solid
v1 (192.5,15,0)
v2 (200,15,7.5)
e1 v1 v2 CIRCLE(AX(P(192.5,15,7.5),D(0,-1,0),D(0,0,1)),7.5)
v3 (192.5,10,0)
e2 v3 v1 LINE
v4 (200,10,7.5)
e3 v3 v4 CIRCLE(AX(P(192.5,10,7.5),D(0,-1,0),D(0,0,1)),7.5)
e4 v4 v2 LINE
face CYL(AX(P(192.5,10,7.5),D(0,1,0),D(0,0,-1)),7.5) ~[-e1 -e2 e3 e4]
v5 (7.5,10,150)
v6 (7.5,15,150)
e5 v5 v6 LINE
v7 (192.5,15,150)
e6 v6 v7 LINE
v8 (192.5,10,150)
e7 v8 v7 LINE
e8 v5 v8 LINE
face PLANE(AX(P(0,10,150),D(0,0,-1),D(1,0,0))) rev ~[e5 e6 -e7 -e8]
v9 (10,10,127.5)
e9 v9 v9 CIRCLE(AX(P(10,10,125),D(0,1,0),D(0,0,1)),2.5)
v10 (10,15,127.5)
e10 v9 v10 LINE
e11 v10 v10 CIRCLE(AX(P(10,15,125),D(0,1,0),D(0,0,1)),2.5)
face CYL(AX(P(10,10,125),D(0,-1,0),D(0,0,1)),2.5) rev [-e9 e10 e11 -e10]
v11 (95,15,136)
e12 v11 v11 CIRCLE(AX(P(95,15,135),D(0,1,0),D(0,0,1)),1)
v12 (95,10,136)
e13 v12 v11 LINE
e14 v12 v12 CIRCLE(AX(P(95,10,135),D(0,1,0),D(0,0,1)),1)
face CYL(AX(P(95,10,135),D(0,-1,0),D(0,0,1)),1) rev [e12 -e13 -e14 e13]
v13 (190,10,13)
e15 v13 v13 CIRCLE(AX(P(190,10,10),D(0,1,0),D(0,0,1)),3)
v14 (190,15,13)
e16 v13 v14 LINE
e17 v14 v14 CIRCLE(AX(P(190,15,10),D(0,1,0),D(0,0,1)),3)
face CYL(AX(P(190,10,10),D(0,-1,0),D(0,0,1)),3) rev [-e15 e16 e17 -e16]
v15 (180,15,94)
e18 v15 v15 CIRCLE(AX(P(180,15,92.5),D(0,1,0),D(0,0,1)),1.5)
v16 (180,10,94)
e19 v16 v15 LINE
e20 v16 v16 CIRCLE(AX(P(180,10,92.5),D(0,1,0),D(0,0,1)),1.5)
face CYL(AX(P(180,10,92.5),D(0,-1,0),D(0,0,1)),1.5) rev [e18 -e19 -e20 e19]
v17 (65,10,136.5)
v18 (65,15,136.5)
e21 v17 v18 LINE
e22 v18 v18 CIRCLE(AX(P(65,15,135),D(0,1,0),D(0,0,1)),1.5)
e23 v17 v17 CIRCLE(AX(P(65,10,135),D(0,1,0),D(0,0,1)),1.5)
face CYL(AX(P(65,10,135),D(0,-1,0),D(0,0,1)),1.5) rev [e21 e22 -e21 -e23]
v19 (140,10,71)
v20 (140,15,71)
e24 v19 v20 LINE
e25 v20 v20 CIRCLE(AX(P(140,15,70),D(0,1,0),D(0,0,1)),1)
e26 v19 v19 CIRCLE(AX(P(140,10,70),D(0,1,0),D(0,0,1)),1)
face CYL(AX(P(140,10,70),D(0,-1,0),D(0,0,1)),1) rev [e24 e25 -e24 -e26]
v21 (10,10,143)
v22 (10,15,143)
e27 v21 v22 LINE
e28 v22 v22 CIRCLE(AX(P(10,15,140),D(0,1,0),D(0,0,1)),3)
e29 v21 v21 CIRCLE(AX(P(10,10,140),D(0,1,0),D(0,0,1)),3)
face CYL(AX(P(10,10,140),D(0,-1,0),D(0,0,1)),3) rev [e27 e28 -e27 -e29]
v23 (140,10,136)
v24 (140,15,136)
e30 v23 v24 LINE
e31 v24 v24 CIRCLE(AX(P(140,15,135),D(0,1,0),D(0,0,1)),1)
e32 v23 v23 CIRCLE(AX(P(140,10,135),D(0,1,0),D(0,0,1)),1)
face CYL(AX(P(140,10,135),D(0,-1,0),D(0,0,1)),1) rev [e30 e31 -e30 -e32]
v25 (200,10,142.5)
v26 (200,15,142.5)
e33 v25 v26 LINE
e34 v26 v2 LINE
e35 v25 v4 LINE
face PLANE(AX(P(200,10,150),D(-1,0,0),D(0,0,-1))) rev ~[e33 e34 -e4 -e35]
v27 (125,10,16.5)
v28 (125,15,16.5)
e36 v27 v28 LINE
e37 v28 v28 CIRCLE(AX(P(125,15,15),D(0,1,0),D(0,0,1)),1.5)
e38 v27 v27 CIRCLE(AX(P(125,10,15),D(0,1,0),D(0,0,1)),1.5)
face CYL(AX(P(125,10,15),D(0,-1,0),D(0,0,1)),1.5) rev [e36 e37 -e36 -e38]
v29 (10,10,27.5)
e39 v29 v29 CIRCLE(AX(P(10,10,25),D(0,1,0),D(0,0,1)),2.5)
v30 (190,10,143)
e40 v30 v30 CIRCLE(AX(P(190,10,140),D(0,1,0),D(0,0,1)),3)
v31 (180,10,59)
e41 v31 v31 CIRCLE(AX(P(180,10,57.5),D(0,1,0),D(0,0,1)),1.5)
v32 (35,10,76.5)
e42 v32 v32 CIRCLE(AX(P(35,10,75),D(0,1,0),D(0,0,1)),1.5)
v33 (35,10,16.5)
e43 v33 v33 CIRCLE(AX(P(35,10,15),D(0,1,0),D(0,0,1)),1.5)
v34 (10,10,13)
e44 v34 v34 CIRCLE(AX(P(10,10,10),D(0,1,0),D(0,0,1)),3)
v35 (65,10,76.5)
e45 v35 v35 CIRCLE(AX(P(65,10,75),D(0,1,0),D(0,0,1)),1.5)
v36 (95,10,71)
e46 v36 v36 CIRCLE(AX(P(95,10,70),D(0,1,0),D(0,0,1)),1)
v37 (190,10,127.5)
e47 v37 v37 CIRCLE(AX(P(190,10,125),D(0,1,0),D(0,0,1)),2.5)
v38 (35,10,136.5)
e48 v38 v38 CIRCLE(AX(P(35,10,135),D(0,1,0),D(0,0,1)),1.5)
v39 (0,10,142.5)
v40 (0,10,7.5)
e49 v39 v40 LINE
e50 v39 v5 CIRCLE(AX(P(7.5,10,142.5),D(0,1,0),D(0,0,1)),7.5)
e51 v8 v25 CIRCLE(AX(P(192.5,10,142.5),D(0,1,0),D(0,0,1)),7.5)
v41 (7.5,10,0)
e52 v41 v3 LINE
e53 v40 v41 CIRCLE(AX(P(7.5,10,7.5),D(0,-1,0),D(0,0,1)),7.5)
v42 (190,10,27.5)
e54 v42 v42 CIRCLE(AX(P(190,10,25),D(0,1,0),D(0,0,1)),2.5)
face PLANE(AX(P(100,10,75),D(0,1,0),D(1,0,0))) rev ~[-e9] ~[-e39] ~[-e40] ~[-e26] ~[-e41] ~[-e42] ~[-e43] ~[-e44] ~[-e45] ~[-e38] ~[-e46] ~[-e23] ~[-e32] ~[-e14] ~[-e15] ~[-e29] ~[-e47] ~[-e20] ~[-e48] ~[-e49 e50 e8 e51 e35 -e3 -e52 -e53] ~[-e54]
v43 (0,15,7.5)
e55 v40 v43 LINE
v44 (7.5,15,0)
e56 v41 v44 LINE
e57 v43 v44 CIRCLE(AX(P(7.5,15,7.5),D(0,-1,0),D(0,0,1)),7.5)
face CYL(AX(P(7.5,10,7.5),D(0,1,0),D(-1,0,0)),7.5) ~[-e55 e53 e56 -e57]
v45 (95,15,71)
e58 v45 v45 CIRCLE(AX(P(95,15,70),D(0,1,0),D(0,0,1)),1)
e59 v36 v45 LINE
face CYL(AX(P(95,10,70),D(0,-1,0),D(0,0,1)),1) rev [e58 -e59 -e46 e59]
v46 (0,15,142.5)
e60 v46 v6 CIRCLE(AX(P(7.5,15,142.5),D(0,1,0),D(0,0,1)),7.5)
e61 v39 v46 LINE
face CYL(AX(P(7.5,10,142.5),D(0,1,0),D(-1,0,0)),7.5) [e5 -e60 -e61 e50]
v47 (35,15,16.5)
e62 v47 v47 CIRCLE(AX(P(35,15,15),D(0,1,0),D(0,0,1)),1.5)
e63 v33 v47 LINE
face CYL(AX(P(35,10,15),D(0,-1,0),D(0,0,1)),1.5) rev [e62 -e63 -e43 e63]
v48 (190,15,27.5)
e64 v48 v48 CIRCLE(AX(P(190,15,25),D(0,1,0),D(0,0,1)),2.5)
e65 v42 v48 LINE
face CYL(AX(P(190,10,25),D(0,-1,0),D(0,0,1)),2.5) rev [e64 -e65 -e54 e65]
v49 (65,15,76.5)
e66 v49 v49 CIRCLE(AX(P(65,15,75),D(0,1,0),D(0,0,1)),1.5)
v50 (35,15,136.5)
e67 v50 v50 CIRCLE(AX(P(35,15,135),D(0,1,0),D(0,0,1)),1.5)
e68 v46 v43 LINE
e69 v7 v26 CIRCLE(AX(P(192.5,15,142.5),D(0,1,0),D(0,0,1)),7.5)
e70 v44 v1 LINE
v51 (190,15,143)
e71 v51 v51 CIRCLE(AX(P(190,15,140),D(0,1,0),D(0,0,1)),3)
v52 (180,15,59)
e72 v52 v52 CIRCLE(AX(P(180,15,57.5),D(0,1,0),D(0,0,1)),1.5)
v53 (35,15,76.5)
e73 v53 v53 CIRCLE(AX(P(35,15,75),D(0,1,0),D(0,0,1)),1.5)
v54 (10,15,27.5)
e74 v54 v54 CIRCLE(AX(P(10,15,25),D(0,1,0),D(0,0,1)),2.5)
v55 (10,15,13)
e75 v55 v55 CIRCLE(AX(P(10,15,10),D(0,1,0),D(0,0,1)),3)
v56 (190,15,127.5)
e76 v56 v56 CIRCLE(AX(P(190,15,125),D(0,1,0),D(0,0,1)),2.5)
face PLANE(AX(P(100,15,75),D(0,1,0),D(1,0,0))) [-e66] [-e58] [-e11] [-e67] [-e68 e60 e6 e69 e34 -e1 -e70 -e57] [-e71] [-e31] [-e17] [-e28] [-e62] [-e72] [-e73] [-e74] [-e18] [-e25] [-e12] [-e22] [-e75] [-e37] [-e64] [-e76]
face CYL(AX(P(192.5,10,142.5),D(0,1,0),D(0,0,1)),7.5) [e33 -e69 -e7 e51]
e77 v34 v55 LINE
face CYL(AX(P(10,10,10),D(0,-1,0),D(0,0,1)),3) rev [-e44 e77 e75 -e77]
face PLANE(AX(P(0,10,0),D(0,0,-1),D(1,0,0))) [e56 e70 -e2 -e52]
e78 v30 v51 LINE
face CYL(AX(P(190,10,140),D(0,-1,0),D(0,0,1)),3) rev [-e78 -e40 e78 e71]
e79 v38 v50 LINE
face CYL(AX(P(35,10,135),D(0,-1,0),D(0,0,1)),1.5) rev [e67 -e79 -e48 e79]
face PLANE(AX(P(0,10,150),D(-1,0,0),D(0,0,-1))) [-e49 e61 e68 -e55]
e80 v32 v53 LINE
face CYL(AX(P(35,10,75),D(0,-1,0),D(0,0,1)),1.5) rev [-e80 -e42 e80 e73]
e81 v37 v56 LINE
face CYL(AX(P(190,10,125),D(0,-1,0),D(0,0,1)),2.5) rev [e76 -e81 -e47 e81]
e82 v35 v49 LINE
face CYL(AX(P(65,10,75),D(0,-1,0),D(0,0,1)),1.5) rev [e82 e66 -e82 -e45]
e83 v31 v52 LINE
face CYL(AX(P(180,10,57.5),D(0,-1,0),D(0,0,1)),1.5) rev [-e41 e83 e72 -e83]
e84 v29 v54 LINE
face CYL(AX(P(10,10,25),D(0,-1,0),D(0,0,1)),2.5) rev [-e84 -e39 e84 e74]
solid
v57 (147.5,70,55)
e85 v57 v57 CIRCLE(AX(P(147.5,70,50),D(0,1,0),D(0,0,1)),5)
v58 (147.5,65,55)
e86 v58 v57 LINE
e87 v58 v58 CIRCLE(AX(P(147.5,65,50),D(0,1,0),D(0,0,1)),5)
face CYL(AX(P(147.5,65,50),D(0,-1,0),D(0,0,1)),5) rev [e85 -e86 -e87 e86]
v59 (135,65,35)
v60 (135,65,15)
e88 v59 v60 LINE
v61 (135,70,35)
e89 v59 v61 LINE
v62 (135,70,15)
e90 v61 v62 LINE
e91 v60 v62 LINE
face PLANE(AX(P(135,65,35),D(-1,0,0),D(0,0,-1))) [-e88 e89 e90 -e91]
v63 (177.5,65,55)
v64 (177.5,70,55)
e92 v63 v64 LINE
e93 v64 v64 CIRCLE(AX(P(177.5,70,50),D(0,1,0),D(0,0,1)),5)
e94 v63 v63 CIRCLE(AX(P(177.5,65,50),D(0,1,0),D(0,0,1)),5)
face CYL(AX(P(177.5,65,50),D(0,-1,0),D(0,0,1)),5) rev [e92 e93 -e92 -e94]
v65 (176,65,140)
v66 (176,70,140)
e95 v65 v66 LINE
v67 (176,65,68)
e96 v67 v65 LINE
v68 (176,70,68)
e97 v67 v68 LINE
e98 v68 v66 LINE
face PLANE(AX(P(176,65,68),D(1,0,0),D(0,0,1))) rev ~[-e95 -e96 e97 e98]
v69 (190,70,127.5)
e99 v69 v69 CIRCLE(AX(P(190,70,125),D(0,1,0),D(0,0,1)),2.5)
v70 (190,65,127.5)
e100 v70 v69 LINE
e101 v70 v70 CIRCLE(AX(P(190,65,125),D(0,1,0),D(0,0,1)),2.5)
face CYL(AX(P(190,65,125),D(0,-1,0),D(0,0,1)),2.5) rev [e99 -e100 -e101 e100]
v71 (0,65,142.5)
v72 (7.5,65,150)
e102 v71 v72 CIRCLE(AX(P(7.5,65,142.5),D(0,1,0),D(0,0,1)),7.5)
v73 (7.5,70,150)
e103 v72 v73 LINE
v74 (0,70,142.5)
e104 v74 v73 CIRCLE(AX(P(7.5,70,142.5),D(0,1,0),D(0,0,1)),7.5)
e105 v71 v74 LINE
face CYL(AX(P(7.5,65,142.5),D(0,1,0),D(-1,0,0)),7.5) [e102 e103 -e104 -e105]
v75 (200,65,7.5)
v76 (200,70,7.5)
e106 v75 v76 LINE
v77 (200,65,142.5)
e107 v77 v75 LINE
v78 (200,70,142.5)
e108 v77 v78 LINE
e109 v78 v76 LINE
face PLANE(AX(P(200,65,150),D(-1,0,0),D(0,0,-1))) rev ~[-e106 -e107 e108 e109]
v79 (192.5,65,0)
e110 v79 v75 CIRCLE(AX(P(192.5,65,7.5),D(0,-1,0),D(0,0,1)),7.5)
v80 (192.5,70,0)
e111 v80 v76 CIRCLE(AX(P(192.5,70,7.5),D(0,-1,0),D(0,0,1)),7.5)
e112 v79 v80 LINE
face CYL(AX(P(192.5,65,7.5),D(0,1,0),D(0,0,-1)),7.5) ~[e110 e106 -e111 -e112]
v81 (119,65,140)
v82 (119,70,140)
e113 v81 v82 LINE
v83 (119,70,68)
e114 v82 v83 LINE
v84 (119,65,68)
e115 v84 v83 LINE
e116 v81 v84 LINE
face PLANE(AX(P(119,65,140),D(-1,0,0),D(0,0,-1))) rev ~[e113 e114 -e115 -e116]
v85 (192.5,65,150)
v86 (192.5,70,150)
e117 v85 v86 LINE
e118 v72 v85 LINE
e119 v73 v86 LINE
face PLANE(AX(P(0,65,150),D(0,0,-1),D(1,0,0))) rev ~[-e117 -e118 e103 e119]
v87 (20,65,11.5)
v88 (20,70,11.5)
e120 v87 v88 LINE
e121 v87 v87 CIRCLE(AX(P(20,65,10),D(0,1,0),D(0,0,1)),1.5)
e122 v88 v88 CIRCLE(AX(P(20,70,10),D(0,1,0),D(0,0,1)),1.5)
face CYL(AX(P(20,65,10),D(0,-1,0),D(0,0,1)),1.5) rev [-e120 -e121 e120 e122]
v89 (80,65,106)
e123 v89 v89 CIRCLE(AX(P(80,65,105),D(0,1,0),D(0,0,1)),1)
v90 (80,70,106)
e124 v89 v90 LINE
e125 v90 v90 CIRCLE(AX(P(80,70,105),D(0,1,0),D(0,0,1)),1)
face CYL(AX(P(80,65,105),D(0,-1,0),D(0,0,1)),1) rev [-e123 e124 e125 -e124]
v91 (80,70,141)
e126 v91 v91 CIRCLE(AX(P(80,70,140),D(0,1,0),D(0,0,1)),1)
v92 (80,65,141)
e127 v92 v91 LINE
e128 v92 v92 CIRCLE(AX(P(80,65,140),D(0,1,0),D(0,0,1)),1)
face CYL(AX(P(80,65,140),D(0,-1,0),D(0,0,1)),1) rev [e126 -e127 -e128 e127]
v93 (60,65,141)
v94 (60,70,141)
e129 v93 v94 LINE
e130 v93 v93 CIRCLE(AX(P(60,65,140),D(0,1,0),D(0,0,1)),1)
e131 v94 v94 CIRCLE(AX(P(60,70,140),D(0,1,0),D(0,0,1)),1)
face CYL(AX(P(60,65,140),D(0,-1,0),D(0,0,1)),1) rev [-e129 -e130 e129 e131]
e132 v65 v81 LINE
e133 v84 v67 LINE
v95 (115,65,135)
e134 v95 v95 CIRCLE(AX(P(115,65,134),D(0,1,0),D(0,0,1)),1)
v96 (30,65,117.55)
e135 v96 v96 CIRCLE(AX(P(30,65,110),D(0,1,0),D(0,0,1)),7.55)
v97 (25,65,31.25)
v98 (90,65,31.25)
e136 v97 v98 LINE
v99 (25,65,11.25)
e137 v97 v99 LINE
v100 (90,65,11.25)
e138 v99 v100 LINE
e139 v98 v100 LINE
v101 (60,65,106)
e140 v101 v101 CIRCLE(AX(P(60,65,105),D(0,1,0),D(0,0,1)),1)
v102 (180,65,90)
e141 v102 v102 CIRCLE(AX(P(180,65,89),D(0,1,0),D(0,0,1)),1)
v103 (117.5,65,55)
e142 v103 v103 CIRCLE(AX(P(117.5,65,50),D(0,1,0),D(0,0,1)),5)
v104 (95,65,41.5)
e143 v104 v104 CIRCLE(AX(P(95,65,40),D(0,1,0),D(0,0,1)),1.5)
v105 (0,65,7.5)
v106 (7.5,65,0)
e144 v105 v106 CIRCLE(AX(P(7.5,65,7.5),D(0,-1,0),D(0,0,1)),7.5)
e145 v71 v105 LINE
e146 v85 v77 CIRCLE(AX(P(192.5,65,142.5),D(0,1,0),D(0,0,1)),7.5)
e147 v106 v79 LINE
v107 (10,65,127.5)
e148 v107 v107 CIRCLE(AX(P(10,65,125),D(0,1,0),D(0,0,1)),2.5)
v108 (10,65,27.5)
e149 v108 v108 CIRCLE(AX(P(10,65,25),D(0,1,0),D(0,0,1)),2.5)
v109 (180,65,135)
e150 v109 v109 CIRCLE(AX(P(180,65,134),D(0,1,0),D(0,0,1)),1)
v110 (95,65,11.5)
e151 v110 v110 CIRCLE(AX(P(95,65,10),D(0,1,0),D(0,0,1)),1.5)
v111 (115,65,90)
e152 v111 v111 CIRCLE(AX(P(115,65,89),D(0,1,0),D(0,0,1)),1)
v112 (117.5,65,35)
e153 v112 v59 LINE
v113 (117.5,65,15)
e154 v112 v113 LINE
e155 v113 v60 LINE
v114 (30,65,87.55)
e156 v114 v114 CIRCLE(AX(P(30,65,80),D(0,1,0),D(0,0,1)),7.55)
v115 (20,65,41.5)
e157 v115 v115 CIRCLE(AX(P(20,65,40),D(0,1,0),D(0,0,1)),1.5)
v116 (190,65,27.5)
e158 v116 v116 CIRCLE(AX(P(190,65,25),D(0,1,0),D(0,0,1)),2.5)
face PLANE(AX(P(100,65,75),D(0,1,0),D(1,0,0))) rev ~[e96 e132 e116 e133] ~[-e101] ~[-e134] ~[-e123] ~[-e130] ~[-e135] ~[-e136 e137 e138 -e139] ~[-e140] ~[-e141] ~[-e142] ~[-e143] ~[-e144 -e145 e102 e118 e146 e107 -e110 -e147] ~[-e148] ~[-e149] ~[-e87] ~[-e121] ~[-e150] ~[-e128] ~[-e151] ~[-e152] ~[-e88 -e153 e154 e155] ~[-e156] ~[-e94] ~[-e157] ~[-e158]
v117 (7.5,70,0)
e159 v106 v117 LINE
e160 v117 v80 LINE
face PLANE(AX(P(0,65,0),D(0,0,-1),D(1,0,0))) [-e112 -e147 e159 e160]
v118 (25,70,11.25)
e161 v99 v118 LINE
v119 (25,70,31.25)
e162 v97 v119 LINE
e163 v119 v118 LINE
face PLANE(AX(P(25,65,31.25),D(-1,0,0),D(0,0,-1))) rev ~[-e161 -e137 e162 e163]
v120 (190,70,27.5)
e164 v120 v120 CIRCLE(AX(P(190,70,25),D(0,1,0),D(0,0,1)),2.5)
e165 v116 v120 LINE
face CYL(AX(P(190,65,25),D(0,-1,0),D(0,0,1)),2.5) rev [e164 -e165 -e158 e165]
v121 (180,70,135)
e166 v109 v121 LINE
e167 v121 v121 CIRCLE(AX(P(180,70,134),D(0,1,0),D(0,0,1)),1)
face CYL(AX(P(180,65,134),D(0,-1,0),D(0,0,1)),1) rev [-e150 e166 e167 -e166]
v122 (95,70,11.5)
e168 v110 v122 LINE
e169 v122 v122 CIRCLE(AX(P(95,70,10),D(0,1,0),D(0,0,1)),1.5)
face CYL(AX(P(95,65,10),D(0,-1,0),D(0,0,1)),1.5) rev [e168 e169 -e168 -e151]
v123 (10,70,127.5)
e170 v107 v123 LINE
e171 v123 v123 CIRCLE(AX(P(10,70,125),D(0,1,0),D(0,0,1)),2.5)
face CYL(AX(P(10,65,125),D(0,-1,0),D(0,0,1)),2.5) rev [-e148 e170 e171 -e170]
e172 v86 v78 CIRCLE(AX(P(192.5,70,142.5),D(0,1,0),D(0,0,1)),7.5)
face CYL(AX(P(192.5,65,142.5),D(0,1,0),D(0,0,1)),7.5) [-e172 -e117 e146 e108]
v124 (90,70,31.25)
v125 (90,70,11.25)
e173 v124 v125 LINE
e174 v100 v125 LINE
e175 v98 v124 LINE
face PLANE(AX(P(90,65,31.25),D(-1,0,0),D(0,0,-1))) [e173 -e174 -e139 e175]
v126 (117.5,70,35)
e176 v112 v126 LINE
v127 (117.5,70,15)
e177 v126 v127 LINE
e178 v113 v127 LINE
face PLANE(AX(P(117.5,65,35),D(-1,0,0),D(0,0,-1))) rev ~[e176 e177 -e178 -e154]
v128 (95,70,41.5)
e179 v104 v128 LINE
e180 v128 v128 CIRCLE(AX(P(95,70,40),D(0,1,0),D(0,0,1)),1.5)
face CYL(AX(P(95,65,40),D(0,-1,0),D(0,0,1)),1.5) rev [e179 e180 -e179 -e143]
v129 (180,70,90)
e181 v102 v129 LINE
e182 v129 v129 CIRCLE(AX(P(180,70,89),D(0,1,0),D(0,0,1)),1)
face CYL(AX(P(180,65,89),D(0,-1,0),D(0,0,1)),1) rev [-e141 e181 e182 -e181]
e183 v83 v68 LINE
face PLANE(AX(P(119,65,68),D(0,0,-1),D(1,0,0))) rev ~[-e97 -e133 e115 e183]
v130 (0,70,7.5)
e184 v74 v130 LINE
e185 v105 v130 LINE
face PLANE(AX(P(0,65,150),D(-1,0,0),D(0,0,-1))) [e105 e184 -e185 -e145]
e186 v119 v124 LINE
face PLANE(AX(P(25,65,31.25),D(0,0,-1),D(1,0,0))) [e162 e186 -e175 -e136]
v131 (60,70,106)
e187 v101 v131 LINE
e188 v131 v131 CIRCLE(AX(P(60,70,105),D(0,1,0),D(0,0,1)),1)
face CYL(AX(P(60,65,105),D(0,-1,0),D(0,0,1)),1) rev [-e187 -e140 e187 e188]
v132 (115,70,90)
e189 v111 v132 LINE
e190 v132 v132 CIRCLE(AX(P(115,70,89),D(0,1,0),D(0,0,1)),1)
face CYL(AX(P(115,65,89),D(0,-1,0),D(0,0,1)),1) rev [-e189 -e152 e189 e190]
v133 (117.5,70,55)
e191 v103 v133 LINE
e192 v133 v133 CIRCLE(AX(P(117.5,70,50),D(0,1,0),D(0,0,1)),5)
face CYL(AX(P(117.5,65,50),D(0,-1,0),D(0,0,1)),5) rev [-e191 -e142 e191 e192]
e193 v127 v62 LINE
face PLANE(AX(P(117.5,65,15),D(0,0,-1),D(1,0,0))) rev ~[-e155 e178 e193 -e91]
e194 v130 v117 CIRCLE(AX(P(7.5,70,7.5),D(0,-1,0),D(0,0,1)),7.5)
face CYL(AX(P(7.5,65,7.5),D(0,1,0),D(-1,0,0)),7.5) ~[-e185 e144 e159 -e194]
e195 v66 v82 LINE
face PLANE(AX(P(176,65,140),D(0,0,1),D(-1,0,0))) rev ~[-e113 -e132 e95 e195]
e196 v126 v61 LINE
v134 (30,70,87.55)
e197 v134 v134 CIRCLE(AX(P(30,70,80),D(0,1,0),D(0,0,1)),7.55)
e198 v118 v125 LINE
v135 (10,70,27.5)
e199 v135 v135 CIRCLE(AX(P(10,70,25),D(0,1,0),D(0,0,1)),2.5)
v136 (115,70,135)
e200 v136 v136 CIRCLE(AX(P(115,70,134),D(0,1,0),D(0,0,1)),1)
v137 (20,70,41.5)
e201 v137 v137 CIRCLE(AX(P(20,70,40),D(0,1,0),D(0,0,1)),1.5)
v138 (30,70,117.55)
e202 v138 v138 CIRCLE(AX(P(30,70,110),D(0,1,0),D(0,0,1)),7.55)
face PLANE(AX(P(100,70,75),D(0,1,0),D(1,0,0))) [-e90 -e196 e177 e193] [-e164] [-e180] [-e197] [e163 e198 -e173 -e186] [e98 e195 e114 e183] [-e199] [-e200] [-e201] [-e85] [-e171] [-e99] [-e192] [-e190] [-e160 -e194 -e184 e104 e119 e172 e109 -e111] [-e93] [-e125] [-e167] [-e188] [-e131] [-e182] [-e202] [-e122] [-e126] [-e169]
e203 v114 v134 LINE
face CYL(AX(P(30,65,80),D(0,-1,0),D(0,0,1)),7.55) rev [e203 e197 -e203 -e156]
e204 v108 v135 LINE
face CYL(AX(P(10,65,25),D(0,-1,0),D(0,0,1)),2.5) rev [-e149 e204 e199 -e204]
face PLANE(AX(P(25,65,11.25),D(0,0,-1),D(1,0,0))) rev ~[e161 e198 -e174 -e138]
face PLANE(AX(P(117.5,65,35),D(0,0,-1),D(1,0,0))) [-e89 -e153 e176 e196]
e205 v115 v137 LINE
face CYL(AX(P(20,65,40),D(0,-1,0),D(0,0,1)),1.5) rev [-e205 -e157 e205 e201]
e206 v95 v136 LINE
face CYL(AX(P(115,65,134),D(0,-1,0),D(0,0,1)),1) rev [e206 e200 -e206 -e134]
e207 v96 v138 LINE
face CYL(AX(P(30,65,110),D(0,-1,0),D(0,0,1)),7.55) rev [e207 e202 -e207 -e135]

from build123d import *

# Parameters (mm, degrees)
BOSS_EXTRUDE1_START = 10
SKETCH2_W           = 200
SKETCH2_H           = 150
SKETCH2_R           = 1.5
SKETCH2_R_2         = 1
SKETCH2_R_3         = 2.5
SKETCH2_R_4         = 3
BOSS_EXTRUDE1_DEPTH = 5
BOSS_EXTRUDE2_START = 65
SKETCH4_W           = 200
SKETCH4_H           = 150
SKETCH4_R           = 2.5
SKETCH4_R_2         = 1
SKETCH4_R_3         = 7.55
SKETCH4_R_4         = 1.5
SKETCH4_W_2         = 65
SKETCH4_H_2         = 20
SKETCH4_R_5         = 5
SKETCH4_W_3         = 17.5
BOSS_EXTRUDE2_DEPTH = 5
FILLET1_R           = 7.5
FILLET2_R           = 7.5


with BuildPart() as part:
    # Sketch2 → Boss-Extrude1 (new body)
    with BuildSketch(Plane(origin=(0, 0, 0), x_dir=(1, 0, 0), z_dir=(0, 1, 0)).offset(BOSS_EXTRUDE1_START)):
        with Locations((100, -75)):
            Rectangle(SKETCH2_W, SKETCH2_H)
        with Locations(Location((35, -75, 0), (0, 0, 270))):
            Circle(SKETCH2_R, mode=Mode.SUBTRACT)
        with Locations(Location((65, -75, 0), (0, 0, 270))):
            Circle(SKETCH2_R, mode=Mode.SUBTRACT)
        with Locations(Location((65, -135, 0), (0, 0, 270))):
            Circle(SKETCH2_R, mode=Mode.SUBTRACT)
        with Locations(Location((35, -135, 0), (0, 0, 270))):
            Circle(SKETCH2_R, mode=Mode.SUBTRACT)
        with Locations(Location((35, -15, 0), (0, 0, 270))):
            Circle(SKETCH2_R, mode=Mode.SUBTRACT)
        with Locations(Location((125, -15, 0), (0, 0, 270))):
            Circle(SKETCH2_R, mode=Mode.SUBTRACT)
        with Locations(Location((180, -57.5, 0), (0, 0, 270))):
            Circle(SKETCH2_R, mode=Mode.SUBTRACT)
        with Locations(Location((180, -92.5, 0), (0, 0, 270))):
            Circle(SKETCH2_R, mode=Mode.SUBTRACT)
        with Locations(Location((95, -70, 0), (0, 0, 270))):
            Circle(SKETCH2_R_2, mode=Mode.SUBTRACT)
        with Locations(Location((140, -70, 0), (0, 0, 270))):
            Circle(SKETCH2_R_2, mode=Mode.SUBTRACT)
        with Locations(Location((140, -135, 0), (0, 0, 270))):
            Circle(SKETCH2_R_2, mode=Mode.SUBTRACT)
        with Locations(Location((95, -135, 0), (0, 0, 270))):
            Circle(SKETCH2_R_2, mode=Mode.SUBTRACT)
        with Locations(Location((190, -25, 0), (0, 0, 270))):
            Circle(SKETCH2_R_3, mode=Mode.SUBTRACT)
        with Locations(Location((190, -10, 0), (0, 0, 270))):
            Circle(SKETCH2_R_4, mode=Mode.SUBTRACT)
        with Locations(Location((190, -125, 0), (0, 0, 270))):
            Circle(SKETCH2_R_3, mode=Mode.SUBTRACT)
        with Locations(Location((190, -140, 0), (0, 0, 270))):
            Circle(SKETCH2_R_4, mode=Mode.SUBTRACT)
        with Locations(Location((10, -140, 0), (0, 0, 270))):
            Circle(SKETCH2_R_4, mode=Mode.SUBTRACT)
        with Locations(Location((10, -125, 0), (0, 0, 270))):
            Circle(SKETCH2_R_3, mode=Mode.SUBTRACT)
        with Locations(Location((10, -25, 0), (0, 0, 270))):
            Circle(SKETCH2_R_3, mode=Mode.SUBTRACT)
        with Locations(Location((10, -10, 0), (0, 0, 270))):
            Circle(SKETCH2_R_4, mode=Mode.SUBTRACT)
    extrude(amount=BOSS_EXTRUDE1_DEPTH)

    # Fillet1
    fillet1_edges = [part.edges().sort_by_distance(p)[0] for p in [
        (0, 12.5, 0),
        (200, 12.5, 0),
        (200, 12.5, 150),
        (0, 12.5, 150),
    ]]
    fillet(fillet1_edges, radius=FILLET1_R)


with BuildPart() as body_2:
    # Sketch4 → Boss-Extrude2 (new body)
    with BuildSketch(Plane(origin=(0, 0, 0), x_dir=(1, 0, 0), z_dir=(0, 1, 0)).offset(BOSS_EXTRUDE2_START)):
        with Locations((100, -75)):
            Rectangle(SKETCH4_W, SKETCH4_H)
        with Locations(Location((10, -125, 0), (0, 0, 270))):
            Circle(SKETCH4_R, mode=Mode.SUBTRACT)
        with Locations(Location((60, -140, 0), (0, 0, 270))):
            Circle(SKETCH4_R_2, mode=Mode.SUBTRACT)
        with Locations(Location((80, -140, 0), (0, 0, 270))):
            Circle(SKETCH4_R_2, mode=Mode.SUBTRACT)
        with Locations(Location((30, -110, 0), (0, 0, 270))):
            Circle(SKETCH4_R_3, mode=Mode.SUBTRACT)
        with Locations(Location((30, -80, 0), (0, 0, 270))):
            Circle(SKETCH4_R_3, mode=Mode.SUBTRACT)
        with Locations(Location((60, -105, 0), (0, 0, 270))):
            Circle(SKETCH4_R_2, mode=Mode.SUBTRACT)
        with Locations(Location((80, -105, 0), (0, 0, 270))):
            Circle(SKETCH4_R_2, mode=Mode.SUBTRACT)
        with Locations(Location((115, -134, 0), (0, 0, 270))):
            Circle(SKETCH4_R_2, mode=Mode.SUBTRACT)
        with Locations(Location((180, -134, 0), (0, 0, 270))):
            Circle(SKETCH4_R_2, mode=Mode.SUBTRACT)
        with Locations(Location((190, -125, 0), (0, 0, 270))):
            Circle(SKETCH4_R, mode=Mode.SUBTRACT)
        Polygon((119, -130), (119, -93), (119, -68), (176, -68), (176, -93), (176, -130), (176, -140), (119, -140), align=None, mode=Mode.SUBTRACT)
        with Locations(Location((115, -89, 0), (0, 0, 270))):
            Circle(SKETCH4_R_2, mode=Mode.SUBTRACT)
        with Locations(Location((180, -89, 0), (0, 0, 270))):
            Circle(SKETCH4_R_2, mode=Mode.SUBTRACT)
        with Locations(Location((20, -40, 0), (0, 0, 270))):
            Circle(SKETCH4_R_4, mode=Mode.SUBTRACT)
        with Locations(Location((95, -40, 0), (0, 0, 270))):
            Circle(SKETCH4_R_4, mode=Mode.SUBTRACT)
        with Locations(Location((10, -25, 0), (0, 0, 270))):
            Circle(SKETCH4_R, mode=Mode.SUBTRACT)
        with Locations(Location((20, -10, 0), (0, 0, 270))):
            Circle(SKETCH4_R_4, mode=Mode.SUBTRACT)
        with Locations((57.5, -21.25)):
            Rectangle(SKETCH4_W_2, SKETCH4_H_2, mode=Mode.SUBTRACT)
        with Locations(Location((95, -10, 0), (0, 0, 270))):
            Circle(SKETCH4_R_4, mode=Mode.SUBTRACT)
        with Locations(Location((117.5, -50, 0), (0, 0, 270))):
            Circle(SKETCH4_R_5, mode=Mode.SUBTRACT)
        with Locations(Location((147.5, -50, 0), (0, 0, 270))):
            Circle(SKETCH4_R_5, mode=Mode.SUBTRACT)
        with Locations(Location((177.5, -50, 0), (0, 0, 270))):
            Circle(SKETCH4_R_5, mode=Mode.SUBTRACT)
        with Locations((126.25, -25)):
            Rectangle(SKETCH4_W_3, SKETCH4_H_2, mode=Mode.SUBTRACT)
        with Locations(Location((190, -25, 0), (0, 0, 270))):
            Circle(SKETCH4_R, mode=Mode.SUBTRACT)
    extrude(amount=BOSS_EXTRUDE2_DEPTH)

    # Fillet2
    fillet2_edges = [body_2.edges().sort_by_distance(p)[0] for p in [
        (200, 67.5, 0),
        (200, 67.5, 150),
        (0, 67.5, 150),
        (0, 67.5, 0),
    ]]
    fillet(fillet2_edges, radius=FILLET2_R)


solid = Compound([part.part, body_2.part])
